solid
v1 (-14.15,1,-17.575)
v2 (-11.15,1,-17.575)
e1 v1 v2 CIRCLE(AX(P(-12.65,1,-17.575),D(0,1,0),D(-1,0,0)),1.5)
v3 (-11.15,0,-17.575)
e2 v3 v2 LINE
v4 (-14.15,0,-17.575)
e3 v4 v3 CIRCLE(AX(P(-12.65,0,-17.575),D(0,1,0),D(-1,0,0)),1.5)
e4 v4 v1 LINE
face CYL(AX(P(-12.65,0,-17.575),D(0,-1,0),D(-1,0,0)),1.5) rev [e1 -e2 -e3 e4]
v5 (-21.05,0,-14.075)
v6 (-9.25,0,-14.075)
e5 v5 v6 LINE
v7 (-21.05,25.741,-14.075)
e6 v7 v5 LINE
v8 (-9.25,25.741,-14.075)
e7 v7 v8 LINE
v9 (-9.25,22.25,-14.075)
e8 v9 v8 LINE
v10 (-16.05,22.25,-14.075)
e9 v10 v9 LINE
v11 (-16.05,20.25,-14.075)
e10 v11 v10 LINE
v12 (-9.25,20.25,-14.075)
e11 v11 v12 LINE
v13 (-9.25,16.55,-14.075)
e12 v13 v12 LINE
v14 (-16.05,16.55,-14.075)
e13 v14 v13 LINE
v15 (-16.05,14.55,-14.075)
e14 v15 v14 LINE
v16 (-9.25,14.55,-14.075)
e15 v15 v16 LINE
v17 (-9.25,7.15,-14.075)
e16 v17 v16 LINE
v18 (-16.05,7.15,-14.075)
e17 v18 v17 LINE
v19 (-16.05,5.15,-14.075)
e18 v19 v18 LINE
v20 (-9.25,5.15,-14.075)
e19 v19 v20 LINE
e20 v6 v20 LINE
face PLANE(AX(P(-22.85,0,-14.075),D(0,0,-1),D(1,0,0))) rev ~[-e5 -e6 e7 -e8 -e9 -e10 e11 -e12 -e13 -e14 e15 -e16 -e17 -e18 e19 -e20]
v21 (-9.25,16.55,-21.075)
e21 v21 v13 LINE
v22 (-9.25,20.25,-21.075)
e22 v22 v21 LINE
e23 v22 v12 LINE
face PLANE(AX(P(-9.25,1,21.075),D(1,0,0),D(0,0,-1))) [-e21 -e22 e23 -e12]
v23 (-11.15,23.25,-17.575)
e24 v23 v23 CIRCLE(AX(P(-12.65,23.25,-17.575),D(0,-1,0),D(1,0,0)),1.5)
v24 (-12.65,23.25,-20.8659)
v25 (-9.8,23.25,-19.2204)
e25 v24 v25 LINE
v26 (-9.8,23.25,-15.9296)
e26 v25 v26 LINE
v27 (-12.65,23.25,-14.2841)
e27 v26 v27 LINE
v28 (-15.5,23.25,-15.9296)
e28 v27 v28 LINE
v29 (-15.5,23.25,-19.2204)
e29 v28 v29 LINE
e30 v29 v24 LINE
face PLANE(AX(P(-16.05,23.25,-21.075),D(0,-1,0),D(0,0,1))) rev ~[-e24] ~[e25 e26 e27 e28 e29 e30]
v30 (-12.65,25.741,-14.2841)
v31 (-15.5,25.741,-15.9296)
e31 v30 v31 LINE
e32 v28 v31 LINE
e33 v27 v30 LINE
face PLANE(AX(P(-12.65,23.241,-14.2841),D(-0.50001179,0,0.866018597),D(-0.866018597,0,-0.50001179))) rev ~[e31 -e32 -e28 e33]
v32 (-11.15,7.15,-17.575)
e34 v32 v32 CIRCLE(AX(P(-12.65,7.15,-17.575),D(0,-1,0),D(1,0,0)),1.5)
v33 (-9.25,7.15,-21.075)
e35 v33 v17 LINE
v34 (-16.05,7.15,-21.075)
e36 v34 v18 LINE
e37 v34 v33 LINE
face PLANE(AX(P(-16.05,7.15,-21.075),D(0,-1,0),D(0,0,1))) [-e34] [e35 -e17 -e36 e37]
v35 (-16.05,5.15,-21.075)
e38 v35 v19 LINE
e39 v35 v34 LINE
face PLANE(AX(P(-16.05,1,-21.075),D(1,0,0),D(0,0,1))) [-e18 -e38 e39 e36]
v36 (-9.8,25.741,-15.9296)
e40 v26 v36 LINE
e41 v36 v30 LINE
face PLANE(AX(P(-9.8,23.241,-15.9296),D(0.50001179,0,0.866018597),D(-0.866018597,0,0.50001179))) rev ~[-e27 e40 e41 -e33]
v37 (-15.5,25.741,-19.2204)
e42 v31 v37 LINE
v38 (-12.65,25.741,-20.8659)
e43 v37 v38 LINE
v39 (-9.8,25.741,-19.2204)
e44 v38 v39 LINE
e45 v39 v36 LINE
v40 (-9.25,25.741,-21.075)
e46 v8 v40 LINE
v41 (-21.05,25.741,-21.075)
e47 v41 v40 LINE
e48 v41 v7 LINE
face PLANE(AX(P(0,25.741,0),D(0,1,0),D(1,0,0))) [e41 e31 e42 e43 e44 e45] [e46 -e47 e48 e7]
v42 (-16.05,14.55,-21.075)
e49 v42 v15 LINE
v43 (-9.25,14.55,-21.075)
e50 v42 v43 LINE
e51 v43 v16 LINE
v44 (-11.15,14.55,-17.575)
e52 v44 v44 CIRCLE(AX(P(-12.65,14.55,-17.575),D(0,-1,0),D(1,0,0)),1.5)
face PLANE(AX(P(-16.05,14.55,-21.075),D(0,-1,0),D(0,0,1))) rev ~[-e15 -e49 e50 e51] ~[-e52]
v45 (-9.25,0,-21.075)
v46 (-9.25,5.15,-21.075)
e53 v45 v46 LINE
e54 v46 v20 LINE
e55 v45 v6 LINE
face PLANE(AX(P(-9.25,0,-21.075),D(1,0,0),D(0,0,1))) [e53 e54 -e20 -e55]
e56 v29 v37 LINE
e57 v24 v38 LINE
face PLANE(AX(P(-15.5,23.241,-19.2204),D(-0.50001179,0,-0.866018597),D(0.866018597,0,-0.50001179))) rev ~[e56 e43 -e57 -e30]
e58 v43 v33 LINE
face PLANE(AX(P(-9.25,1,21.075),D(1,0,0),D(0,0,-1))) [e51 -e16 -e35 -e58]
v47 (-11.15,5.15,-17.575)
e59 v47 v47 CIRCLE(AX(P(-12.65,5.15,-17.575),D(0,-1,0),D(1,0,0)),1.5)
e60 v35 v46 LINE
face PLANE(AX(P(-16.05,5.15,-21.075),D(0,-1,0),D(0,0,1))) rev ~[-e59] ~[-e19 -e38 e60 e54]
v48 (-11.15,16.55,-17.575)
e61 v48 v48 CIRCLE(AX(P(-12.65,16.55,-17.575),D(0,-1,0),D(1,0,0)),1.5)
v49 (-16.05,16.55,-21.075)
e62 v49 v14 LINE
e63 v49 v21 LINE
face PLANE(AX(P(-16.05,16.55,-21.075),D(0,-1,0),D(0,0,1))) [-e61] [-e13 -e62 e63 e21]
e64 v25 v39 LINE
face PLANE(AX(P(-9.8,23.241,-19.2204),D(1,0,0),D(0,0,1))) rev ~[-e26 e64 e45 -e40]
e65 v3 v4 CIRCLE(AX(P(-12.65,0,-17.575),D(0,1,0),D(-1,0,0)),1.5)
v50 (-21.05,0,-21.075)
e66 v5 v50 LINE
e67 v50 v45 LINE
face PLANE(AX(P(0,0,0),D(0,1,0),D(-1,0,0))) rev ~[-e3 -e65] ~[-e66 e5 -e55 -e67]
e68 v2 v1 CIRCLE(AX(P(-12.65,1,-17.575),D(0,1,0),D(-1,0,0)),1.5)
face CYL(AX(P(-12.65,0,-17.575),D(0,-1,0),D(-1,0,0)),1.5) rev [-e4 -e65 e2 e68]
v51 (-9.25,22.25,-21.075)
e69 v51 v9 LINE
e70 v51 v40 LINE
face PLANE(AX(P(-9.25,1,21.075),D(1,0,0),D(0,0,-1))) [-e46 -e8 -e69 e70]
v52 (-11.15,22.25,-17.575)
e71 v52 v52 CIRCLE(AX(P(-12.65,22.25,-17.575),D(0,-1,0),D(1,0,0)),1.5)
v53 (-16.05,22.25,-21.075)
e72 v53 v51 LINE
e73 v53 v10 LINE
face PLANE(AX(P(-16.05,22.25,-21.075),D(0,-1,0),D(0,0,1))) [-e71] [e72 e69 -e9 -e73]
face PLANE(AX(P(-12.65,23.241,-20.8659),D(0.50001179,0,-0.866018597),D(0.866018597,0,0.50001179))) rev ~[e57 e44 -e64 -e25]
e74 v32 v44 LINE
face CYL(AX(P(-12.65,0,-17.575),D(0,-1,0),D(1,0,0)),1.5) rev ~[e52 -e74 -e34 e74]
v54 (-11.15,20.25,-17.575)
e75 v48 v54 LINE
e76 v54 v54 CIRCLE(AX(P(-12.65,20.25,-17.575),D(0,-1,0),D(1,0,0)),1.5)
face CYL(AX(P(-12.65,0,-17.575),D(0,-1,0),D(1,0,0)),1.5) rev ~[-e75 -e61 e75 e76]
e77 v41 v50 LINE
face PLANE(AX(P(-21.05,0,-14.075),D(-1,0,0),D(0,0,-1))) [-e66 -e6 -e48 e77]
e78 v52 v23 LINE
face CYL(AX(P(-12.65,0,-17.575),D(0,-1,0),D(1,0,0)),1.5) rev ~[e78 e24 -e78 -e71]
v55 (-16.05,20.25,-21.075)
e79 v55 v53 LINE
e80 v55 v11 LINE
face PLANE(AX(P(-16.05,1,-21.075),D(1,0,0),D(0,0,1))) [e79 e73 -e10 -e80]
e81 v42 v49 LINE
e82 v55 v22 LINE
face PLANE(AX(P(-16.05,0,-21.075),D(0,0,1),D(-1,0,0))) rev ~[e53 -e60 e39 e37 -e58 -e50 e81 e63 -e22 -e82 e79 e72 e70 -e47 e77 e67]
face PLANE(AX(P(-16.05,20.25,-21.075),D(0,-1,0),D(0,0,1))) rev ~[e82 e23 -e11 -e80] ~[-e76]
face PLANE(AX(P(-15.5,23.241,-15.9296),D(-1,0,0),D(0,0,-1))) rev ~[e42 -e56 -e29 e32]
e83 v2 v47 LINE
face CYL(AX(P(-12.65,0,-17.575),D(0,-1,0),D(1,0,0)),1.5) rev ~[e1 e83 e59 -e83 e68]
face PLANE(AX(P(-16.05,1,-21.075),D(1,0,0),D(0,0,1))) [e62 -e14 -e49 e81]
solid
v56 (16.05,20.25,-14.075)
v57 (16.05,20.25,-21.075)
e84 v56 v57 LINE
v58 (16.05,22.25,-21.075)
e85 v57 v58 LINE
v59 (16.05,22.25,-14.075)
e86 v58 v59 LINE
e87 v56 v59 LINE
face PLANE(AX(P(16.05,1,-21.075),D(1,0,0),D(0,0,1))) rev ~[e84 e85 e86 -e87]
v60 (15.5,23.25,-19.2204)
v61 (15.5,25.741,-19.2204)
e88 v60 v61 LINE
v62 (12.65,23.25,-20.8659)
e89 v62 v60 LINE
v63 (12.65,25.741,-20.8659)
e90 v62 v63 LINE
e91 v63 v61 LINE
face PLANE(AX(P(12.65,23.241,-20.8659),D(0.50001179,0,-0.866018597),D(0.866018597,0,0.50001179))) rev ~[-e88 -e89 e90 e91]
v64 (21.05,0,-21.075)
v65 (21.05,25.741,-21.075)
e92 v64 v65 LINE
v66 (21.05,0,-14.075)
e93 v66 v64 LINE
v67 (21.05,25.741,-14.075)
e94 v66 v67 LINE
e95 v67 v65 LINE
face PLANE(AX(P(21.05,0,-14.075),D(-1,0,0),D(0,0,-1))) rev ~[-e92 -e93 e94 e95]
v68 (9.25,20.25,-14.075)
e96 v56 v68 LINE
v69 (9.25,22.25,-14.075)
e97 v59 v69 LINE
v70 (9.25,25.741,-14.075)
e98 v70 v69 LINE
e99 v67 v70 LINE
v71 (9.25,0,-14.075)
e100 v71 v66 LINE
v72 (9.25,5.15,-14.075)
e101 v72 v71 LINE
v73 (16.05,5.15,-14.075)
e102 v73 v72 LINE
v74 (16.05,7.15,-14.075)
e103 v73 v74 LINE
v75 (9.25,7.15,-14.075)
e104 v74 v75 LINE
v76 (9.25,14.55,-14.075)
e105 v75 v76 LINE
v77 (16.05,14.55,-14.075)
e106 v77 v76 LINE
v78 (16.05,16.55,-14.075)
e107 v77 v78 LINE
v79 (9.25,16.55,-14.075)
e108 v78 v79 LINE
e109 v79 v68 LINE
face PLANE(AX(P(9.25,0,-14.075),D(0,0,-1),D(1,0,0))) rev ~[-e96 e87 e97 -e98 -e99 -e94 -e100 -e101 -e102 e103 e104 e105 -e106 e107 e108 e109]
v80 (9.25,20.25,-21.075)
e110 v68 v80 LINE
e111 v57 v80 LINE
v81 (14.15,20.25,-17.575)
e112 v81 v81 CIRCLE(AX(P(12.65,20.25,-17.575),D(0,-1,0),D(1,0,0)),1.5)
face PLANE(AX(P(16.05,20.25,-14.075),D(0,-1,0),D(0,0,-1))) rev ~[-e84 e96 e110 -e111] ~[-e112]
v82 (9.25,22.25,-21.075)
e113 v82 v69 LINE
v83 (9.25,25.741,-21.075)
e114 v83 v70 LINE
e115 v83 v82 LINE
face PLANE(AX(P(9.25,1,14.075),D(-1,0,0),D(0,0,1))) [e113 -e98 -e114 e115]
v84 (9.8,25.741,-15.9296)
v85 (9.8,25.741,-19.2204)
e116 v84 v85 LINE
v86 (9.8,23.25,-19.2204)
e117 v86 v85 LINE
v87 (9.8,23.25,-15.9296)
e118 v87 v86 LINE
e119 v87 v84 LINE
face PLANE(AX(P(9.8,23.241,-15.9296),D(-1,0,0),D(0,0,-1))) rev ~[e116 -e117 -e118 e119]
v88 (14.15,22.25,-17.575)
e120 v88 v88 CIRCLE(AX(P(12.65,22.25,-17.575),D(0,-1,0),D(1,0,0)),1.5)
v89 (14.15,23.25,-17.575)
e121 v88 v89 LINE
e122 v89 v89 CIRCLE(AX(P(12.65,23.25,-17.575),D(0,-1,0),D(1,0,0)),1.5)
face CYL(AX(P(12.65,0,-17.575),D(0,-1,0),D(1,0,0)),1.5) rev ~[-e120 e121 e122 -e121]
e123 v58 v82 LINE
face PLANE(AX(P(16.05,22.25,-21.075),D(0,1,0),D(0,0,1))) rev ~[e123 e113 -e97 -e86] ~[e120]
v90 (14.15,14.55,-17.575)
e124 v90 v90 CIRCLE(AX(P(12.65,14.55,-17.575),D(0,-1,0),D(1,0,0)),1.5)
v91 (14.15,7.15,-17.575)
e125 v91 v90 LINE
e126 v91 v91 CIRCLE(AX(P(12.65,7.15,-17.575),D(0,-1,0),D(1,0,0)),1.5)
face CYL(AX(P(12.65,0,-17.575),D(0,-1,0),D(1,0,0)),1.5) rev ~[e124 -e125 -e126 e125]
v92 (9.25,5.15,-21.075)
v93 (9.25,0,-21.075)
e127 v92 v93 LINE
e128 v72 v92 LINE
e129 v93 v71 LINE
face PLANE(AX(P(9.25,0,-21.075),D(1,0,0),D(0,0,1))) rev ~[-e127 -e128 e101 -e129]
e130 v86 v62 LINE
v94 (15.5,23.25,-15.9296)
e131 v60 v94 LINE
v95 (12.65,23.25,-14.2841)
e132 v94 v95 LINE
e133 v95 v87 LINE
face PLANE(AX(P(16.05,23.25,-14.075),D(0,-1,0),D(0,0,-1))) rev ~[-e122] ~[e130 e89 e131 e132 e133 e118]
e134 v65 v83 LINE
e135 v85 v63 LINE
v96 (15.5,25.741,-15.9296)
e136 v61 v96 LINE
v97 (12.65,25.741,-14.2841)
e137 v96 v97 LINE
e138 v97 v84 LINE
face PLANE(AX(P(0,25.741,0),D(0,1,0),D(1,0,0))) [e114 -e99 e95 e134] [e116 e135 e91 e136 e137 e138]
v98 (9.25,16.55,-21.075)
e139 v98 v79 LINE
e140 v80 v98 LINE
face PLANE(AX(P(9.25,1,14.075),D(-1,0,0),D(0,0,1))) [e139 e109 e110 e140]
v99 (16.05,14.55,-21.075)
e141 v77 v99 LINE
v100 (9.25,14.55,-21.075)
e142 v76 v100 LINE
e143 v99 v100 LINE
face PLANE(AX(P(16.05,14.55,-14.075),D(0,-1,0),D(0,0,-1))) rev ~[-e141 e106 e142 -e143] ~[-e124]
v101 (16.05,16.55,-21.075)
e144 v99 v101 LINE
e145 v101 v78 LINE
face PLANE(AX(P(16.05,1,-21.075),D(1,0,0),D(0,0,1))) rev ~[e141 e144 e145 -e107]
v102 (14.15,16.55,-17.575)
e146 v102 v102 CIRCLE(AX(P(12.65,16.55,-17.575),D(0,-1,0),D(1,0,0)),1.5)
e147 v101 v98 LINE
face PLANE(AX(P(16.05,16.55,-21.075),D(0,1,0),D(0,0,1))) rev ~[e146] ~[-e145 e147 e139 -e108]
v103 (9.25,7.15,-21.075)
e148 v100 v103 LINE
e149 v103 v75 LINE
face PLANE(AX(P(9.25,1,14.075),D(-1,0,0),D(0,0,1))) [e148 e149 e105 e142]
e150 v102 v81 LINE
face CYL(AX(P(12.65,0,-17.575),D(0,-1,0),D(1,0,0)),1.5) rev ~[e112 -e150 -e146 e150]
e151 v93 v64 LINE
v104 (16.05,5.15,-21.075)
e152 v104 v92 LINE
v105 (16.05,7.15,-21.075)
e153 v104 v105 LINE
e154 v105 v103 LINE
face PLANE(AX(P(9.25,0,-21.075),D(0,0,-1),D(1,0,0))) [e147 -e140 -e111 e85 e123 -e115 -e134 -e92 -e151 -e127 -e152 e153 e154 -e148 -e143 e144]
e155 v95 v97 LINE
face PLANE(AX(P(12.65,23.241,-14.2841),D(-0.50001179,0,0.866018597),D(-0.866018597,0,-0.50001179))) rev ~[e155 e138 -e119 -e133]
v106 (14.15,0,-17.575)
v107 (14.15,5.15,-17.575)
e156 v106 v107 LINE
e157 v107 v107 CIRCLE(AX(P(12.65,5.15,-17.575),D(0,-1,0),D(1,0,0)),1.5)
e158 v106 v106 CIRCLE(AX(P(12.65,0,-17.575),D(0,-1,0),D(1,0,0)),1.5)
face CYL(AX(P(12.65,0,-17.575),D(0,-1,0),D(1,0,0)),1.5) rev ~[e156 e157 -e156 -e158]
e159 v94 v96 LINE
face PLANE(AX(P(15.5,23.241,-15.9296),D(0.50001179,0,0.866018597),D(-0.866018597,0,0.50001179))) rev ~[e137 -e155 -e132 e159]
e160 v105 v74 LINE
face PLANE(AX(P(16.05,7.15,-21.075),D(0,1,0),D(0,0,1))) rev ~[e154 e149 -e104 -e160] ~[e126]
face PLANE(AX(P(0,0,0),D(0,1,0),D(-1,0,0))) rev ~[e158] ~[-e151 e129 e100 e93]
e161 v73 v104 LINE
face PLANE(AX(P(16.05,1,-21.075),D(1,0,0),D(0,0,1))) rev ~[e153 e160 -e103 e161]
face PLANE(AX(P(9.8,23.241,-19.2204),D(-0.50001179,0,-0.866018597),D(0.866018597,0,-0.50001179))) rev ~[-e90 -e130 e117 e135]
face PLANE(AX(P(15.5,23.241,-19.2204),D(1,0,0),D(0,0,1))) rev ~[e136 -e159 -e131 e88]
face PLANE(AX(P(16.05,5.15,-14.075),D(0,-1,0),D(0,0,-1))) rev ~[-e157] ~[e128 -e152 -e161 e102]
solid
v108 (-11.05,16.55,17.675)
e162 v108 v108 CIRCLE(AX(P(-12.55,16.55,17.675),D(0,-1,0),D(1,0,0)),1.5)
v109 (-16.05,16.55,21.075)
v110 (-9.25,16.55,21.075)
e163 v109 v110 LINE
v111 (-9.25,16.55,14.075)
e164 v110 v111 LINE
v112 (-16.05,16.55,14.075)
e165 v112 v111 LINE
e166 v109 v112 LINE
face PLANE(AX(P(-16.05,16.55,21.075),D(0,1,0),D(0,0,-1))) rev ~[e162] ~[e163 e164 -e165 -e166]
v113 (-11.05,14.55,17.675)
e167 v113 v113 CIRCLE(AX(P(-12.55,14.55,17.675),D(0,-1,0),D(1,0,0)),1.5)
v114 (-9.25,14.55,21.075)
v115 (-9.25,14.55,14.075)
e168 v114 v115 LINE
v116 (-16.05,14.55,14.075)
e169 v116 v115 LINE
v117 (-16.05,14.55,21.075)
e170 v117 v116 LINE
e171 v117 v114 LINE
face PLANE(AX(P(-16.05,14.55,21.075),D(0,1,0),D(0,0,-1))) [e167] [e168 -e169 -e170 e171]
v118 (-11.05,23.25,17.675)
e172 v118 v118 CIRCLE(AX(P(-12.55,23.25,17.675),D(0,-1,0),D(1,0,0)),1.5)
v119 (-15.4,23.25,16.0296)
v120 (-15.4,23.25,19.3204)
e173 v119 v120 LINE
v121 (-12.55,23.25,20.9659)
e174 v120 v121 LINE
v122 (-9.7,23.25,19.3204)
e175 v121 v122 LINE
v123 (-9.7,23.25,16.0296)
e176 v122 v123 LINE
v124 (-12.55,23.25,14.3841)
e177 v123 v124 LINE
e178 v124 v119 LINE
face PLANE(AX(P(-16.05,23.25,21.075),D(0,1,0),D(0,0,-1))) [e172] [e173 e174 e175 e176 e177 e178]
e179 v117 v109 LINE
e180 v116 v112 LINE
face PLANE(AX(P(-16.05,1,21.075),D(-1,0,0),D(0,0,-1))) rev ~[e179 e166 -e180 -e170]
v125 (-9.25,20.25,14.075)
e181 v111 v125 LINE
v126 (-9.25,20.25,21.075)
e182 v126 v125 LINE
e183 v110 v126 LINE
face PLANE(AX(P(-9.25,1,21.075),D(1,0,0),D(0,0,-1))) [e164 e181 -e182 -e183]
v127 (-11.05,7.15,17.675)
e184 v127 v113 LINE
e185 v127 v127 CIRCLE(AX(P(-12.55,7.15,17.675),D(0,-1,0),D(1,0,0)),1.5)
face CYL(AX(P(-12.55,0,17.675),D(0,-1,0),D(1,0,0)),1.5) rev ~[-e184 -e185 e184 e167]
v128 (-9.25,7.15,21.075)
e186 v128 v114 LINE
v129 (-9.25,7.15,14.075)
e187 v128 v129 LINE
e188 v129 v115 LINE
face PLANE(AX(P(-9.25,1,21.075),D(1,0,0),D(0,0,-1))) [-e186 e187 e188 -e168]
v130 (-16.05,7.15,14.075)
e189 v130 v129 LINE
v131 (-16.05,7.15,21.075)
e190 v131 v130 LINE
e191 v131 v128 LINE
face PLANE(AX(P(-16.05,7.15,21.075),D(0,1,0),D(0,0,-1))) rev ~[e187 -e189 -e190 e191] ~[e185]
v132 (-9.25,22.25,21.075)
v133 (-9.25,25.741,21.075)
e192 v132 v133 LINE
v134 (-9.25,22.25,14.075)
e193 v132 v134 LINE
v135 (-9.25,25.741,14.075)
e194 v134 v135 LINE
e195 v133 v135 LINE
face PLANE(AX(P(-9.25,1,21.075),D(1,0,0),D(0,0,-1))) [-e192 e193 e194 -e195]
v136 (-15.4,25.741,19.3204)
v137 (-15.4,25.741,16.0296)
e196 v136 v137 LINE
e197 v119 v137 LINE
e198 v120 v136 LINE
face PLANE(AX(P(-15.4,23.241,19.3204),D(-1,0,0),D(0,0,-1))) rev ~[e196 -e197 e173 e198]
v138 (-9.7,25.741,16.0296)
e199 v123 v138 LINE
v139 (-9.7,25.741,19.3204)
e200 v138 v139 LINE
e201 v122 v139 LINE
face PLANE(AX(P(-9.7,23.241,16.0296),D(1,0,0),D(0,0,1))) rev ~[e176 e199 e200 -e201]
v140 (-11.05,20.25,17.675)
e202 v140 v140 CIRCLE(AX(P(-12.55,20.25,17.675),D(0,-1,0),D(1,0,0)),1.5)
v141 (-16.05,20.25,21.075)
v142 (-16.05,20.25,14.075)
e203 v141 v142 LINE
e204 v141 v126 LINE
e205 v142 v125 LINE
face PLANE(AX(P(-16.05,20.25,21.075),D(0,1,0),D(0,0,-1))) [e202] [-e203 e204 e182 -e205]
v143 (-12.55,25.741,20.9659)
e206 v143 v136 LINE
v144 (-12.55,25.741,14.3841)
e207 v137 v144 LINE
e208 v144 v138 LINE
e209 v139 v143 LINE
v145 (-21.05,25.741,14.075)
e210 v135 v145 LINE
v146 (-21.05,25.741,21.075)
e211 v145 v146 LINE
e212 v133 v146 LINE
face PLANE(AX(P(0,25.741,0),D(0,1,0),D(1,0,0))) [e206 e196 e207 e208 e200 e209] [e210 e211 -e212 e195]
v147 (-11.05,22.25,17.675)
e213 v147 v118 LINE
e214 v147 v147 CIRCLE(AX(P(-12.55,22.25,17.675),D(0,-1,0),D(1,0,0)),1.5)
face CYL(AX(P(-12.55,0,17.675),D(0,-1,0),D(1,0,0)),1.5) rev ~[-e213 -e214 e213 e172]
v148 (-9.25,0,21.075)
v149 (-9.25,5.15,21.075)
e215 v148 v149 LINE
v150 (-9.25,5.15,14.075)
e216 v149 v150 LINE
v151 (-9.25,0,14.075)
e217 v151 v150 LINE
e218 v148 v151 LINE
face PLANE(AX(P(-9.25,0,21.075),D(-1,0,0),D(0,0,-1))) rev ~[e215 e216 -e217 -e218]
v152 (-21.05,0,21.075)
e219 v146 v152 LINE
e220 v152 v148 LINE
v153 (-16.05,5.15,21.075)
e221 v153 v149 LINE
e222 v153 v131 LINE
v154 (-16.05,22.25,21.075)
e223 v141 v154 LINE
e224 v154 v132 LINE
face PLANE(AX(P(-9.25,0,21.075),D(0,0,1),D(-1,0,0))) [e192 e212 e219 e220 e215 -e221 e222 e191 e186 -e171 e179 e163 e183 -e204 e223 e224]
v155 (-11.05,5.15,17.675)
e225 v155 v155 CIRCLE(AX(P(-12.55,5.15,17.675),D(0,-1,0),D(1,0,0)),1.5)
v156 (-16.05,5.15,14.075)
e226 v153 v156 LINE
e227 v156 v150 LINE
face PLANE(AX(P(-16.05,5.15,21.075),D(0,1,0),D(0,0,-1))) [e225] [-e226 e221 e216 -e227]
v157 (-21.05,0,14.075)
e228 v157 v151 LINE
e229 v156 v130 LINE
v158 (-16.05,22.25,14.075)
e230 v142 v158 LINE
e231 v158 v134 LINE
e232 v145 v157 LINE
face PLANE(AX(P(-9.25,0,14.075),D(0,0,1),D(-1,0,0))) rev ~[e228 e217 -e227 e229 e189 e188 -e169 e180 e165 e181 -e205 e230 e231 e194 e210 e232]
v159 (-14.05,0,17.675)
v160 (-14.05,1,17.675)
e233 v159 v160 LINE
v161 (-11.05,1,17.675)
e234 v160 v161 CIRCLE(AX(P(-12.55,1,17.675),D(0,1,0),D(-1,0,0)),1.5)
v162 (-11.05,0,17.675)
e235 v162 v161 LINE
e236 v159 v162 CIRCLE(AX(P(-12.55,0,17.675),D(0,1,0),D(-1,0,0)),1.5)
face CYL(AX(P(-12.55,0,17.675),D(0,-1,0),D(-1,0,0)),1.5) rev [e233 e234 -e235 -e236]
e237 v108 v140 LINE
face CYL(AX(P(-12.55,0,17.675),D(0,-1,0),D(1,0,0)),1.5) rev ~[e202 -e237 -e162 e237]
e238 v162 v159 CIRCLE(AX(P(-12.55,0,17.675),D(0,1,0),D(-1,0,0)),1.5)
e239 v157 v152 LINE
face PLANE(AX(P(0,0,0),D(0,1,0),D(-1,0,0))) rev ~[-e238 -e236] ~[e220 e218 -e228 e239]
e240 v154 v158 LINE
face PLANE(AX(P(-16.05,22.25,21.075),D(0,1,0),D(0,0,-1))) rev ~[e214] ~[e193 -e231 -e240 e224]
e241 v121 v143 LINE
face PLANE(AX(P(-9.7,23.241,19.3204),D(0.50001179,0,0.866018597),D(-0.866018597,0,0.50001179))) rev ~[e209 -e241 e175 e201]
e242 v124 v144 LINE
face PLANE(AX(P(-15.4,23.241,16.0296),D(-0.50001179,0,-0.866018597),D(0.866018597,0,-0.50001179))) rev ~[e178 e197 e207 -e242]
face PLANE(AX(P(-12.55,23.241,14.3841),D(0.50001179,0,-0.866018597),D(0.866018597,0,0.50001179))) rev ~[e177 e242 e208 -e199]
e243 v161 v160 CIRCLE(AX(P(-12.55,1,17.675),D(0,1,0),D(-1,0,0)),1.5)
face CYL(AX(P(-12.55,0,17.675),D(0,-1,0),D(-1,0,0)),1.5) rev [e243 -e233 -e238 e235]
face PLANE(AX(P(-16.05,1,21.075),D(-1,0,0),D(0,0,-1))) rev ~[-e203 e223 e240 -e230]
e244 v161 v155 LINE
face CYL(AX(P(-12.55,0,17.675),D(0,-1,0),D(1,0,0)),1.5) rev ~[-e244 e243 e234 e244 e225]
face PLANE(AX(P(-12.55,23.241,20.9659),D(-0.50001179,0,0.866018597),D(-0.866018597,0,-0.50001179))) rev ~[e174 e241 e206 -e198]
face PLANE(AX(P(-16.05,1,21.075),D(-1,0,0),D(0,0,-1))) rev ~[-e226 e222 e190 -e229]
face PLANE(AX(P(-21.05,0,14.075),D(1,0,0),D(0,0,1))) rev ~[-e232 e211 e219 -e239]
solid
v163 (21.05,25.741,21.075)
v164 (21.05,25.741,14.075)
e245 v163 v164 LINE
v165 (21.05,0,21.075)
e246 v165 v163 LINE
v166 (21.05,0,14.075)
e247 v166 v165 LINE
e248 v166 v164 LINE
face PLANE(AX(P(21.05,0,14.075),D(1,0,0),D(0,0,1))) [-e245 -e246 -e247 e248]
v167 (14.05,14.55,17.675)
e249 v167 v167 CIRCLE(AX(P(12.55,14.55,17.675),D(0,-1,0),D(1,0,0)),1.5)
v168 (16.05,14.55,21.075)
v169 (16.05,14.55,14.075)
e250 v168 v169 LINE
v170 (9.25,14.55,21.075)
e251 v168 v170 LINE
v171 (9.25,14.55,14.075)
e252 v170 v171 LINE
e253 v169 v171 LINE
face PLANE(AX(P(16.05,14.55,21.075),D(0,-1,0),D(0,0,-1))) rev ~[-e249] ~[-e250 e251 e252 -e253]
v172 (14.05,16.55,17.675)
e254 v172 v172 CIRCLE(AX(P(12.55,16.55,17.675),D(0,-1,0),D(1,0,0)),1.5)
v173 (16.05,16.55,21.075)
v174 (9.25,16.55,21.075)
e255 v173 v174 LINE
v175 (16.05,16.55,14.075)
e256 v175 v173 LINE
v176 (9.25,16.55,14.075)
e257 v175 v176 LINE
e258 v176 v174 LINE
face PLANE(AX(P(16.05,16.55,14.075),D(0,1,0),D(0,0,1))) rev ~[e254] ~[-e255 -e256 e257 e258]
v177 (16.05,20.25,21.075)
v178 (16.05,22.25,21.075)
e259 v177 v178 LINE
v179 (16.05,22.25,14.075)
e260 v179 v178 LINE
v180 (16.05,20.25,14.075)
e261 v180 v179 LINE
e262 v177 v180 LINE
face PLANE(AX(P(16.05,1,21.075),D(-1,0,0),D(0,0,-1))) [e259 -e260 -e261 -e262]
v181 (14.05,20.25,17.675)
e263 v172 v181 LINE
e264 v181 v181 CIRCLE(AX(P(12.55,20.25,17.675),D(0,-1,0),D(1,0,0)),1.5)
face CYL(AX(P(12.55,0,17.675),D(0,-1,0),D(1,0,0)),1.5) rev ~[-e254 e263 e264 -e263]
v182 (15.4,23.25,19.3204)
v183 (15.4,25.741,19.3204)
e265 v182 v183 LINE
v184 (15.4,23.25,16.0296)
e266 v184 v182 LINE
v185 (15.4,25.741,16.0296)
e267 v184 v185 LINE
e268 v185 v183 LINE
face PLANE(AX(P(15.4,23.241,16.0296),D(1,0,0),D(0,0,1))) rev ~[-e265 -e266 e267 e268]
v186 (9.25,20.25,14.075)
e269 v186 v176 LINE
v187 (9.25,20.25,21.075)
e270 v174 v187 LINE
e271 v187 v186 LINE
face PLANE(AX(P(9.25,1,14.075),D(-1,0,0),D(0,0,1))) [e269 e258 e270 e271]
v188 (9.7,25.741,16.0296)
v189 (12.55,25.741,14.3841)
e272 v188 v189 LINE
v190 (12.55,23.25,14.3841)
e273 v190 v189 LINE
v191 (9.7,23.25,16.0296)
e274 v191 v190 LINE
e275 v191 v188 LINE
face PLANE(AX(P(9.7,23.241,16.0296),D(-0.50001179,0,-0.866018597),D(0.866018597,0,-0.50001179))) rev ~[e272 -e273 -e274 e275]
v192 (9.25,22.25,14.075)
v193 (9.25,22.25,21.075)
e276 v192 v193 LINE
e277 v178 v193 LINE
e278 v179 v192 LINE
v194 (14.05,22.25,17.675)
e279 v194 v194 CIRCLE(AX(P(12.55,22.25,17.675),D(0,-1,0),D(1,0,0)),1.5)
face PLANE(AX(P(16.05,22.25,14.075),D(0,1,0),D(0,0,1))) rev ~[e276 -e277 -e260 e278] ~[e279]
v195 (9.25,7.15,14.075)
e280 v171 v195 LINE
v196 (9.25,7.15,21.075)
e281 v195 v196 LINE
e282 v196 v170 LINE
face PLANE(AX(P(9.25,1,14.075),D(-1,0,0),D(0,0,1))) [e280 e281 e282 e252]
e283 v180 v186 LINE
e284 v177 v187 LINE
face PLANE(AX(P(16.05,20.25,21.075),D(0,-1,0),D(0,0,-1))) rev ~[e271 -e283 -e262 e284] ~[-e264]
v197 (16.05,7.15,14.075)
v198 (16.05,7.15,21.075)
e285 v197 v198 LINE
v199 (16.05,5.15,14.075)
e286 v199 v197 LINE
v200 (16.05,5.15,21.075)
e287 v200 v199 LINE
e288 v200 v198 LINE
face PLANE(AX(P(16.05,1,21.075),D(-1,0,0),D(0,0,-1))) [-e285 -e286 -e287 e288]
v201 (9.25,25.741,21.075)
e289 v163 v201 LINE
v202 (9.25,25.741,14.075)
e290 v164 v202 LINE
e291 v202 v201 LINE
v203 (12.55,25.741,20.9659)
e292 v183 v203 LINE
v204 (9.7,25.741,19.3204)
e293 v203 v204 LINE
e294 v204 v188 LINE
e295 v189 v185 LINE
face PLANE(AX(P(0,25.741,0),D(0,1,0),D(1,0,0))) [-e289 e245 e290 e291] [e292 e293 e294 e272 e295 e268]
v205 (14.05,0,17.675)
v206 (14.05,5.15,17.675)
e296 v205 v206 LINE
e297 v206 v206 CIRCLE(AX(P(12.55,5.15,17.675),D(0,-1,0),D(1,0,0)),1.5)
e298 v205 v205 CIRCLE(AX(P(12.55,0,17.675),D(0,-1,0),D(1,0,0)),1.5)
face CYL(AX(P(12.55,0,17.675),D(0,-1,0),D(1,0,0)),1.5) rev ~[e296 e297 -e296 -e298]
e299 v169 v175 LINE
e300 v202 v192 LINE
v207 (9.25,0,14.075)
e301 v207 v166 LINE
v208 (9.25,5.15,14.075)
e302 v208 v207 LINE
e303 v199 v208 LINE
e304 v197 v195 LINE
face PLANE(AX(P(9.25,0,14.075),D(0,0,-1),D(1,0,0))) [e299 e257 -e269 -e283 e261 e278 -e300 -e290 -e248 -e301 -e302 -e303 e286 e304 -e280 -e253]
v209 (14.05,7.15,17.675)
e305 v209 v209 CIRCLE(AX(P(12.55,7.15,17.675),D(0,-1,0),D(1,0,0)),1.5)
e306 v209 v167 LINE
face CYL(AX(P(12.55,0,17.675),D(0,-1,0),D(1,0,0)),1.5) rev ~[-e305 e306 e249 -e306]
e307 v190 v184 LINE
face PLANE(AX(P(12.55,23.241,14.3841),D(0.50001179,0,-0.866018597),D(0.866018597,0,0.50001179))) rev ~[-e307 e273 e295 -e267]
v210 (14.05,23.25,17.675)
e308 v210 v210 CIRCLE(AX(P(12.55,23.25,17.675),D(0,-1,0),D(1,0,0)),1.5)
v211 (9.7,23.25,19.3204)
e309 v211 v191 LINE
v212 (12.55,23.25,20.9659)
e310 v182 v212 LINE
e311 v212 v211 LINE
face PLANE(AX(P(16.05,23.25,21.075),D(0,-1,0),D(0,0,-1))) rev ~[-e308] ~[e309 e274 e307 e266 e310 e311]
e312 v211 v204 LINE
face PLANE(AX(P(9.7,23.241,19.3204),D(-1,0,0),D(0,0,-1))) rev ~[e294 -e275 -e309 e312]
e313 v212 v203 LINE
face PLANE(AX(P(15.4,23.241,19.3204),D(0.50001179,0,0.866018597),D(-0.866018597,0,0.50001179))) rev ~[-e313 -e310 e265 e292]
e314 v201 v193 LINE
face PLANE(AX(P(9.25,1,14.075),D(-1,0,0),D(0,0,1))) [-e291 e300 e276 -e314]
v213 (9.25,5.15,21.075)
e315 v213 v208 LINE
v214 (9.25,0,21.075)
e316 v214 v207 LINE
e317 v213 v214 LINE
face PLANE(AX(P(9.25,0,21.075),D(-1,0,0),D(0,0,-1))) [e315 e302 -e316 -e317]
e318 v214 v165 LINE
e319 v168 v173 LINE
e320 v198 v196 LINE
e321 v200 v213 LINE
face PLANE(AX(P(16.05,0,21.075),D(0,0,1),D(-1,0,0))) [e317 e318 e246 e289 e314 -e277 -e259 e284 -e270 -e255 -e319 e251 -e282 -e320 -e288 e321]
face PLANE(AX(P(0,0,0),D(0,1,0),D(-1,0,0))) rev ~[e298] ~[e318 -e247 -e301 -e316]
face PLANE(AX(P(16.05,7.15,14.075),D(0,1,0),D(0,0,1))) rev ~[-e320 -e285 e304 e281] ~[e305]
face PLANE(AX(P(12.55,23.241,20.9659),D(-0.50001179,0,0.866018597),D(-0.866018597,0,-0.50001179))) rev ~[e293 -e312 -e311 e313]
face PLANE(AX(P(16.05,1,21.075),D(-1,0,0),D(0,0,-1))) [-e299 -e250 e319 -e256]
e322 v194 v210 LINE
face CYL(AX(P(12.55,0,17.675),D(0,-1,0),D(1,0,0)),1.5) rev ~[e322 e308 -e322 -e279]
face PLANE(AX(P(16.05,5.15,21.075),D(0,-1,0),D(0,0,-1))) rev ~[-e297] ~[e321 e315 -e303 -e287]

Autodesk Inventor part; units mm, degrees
ref_plane "YZ Plane" through (0, 0, 0) normal (1, 0, 0) x (0, 1, 0)
ref_plane "XZ Plane" through (0, 0, 0) normal (0, 1, 0) x (-1, 0, 0)
ref_plane "XY Plane" through (0, 0, 0) normal (0, 0, 1) x (1, 0, 0)
sketch "Sketch8" plane through (0, 0, 0) normal (0, 1, 0) x (-1, 0, 0)
  line L0 (-16.05, 21.075) -> (16.05, 21.075)
  line L1 (16.05, 21.075) -> (16.05, -21.075)
  line L2 (16.05, -21.075) -> (-16.05, -21.075)
  line L3 (-16.05, -21.075) -> (-16.05, 21.075)
  line L4 (-16.05, 21.075) -> (16.05, -21.075) construction
  line L5 (16.05, 21.075) -> (-16.05, -21.075) construction
  circle A0 centre (12.65, -17.575) radius 1.5
  line L6 (12.65, -19.075) -> (12.65, -21.075) construction
  line L7 (14.15, -17.575) -> (16.05, -17.575) construction
  line L8 (12.65, -17.575) -> (12.65, -19.075) construction
  line L9 (12.65, -17.575) -> (14.15, -17.575) construction
  line L10 (0, -21.075) -> (0, 21.075) construction
  line L11 (16.05, 0) -> (-16.05, 0) construction
  line L12 (9.25, -14.075) -> (16.05, -14.075)
  line L13 (16.05, -14.075) -> (16.05, -21.075)
  line L14 (16.05, -21.075) -> (9.25, -21.075)
  line L15 (9.25, -21.075) -> (9.25, -14.075)
  line L16 (9.25, -14.075) -> (16.05, -21.075) construction
  line L17 (16.05, -14.075) -> (9.25, -21.075) construction
  circle A1 centre (-12.55, -17.675) radius 1.5
  line L18 (-9.25, -14.075) -> (-16.05, -14.075)
  line L19 (-9.25, -21.075) -> (-9.25, -14.075)
  circle A2 centre (12.55, 17.675) radius 1.5
  line L20 (9.25, 14.075) -> (16.05, 14.075)
  line L21 (9.25, 21.075) -> (9.25, 14.075)
  line L22 (-9.25, 21.075) -> (-9.25, 14.075)
  circle A3 centre (-12.55, 17.475) radius 1.5
  line L23 (-9.25, 14.075) -> (-16.05, 14.075)
  line L24 (16.05, -21.075) -> (22.85, -21.075)
  line L25 (22.85, -21.075) -> (22.85, -14.075)
  line L26 (22.85, -14.075) -> (16.05, -14.075)
  line L27 (16.05, -14.075) -> (16.05, -21.075)
  line L28 (-16.05, -21.075) -> (-22.85, -21.075)
  line L29 (-22.85, -21.075) -> (-22.85, -14.075)
  line L30 (-22.85, -14.075) -> (-16.05, -14.075)
  line L31 (16.05, 21.075) -> (22.85, 21.075)
  line L32 (22.85, 21.075) -> (22.85, 14.075)
  line L33 (22.85, 14.075) -> (16.05, 14.075)
  line L34 (-16.05, 21.075) -> (-22.85, 21.075)
  line L35 (-22.85, 21.075) -> (-22.85, 14.075)
  line L36 (-22.85, 14.075) -> (-16.05, 14.075)
  line L37 (-12.55, -19.175) -> (-12.55, -21.075) construction
  line L38 (-14.05, -17.675) -> (-16.05, -17.675) construction
  line L39 (-14.05, -17.675) -> (-12.55, -17.675) construction
  line L40 (-12.55, -17.675) -> (-12.55, -19.175) construction
  line L41 (-12.55, 17.475) -> (-12.55, 18.975) construction
  line L42 (-12.55, 21.075) -> (-12.55, 18.975) construction
  line L43 (-12.55, 17.475) -> (-14.05, 17.475) construction
  line L44 (-16.05, 17.475) -> (-14.05, 17.475) construction
  line L45 (12.55, 17.675) -> (12.55, 19.175) construction
  line L46 (12.55, 19.175) -> (12.55, 21.075) construction
  line L47 (12.55, 17.675) -> (14.05, 17.675) construction
  line L48 (16.05, 17.675) -> (14.05, 17.675) construction
  point P0 (0, 0)
  dimension "d65" = 42.15
  dimension "d66" = 32.1
  dimension "d67" = 3
  dimension "d69" = 2
  dimension "d70" = 1.9
  dimension "d113" = 3
  dimension "d115" = 1.9
  dimension "d116" = 2
  dimension "d117" = 2
  dimension "d118" = 2.1
  dimension "d119" = 3
  dimension "d120" = 1.9
  dimension "d121" = 2
  dimension "d122" = 3
extrude "Extrusion4" add sketch "Sketch8" along normal blind 1 contours L0 L22 L23 L3 | L3 L36 L35 L34 | L0 L1 L20 L21 | L18 L19 L2 L3 | L3 L28 L29 L30 | L31 L32 L33 L1 | L26 L25 L24 L1 | L1 L2 L15 L12
sketch "Sketch9" plane through (0, 1, 0) normal (0, 1, 0) x (1, 0, 0)
  line L0 (-22.85, 21.075) -> (-22.85, 14.075) projected
  line L1 (-22.85, 21.075) -> (-16.05, 21.075)
  line L2 (-16.05, 21.075) -> (-16.05, 14.075)
  line L3 (-16.05, 14.075) -> (-22.85, 14.075)
  line L4 (-22.85, 14.075) -> (-22.85, 21.075)
  line L5 (-9.25, 21.075) -> (-22.85, 21.075) projected
  line L6 (-16.05, 21.075) -> (-16.05, 14.075) construction
  line L7 (-22.85, 14.075) -> (-9.25, 14.075) projected
  line L8 (0, 20.6342) -> (0, -21.4805) construction
  line L9 (-22.8069, 0) -> (21.3685, 0) construction
  line L10 (22.85, 21.075) -> (22.85, 14.075)
  line L11 (22.85, 21.075) -> (16.05, 21.075)
  line L12 (16.05, 21.075) -> (16.05, 14.075)
  line L13 (16.05, 14.075) -> (22.85, 14.075)
  line L14 (22.85, 14.075) -> (22.85, 21.075)
  line L15 (16.05, 21.075) -> (22.85, 21.075)
  line L16 (22.85, 14.075) -> (16.05, 14.075)
  line L17 (-22.85, -21.075) -> (-22.85, -14.075)
  line L18 (-22.85, -21.075) -> (-16.05, -21.075)
  line L19 (-16.05, -21.075) -> (-16.05, -14.075)
  line L20 (-16.05, -14.075) -> (-22.85, -14.075)
  line L21 (-22.85, -14.075) -> (-22.85, -21.075)
  line L22 (-16.05, -21.075) -> (-22.85, -21.075)
  line L23 (-16.05, -21.075) -> (-16.05, -14.075) construction
  line L24 (-22.85, -14.075) -> (-16.05, -14.075)
  line L25 (0, -20.6342) -> (0, 21.4805) construction
  line L26 (22.85, -21.075) -> (22.85, -14.075)
  line L27 (22.85, -21.075) -> (16.05, -21.075)
  line L28 (16.05, -14.075) -> (22.85, -14.075)
  line L29 (22.85, -14.075) -> (22.85, -21.075)
  line L30 (16.05, -21.075) -> (22.85, -21.075)
  line L31 (22.85, -14.075) -> (16.05, -14.075)
  line L32 (16.05, -21.075) -> (16.05, -14.075)
  point P0 (0, 0)
  point P1 (9.25, 21.075)
  point P2 (9.25, 14.075)
  point P3 (-9.25, -21.075)
  point P4 (-9.25, -14.075)
  point P5 (9.25, -21.075)
  point P6 (9.25, -14.075)
  dimension "d73" = 0
  dimension "d74" = 0
extrude "Extrusion5" add sketch "Sketch9" along normal blind 22.241
sketch "Sketch11" plane through (-16.05, 1, 21.075) normal (1, 0, 0) x (0, 0, -1)
  line L0 (21.075, -1) -> (21.075, 11.5) construction
  line L1 (0, 0) -> (0, 22.241) projected
  line L2 (7, 0) -> (7, 22.241) projected
  line L3 (0, 4.15) -> (7, 4.15)
  line L4 (0, -1) -> (7, -1) projected
  line L5 (0, 6.15) -> (7, 6.15)
  line L6 (7, -1) -> (7, 22.241) projected
  line L7 (0, 3.15) -> (7, 3.15)
  line L8 (0, 7.15) -> (7, 7.15)
  line L9 (0, 12.55) -> (7, 12.55)
  line L10 (0, 13.55) -> (7, 13.55)
  line L11 (0, 15.55) -> (7, 15.55)
  line L12 (0, 0) -> (0, 22.3006)
  line L13 (7, 0) -> (7, 22.3006)
  line L14 (0, 16.55) -> (7, 16.55)
  line L15 (0, 19.25) -> (7, 19.25)
  line L16 (0, 18.25) -> (7, 18.25)
  line L17 (0, 21.25) -> (7, 21.25)
  line L18 (0, 22.25) -> (7, 22.25)
  line L19 (42.15, 0) -> (42.15, 22.241)
  line L20 (35.15, 0) -> (35.15, 22.241)
  line L21 (42.15, 4.15) -> (35.15, 4.15)
  line L22 (42.15, 6.15) -> (35.15, 6.15)
  line L23 (35.15, -1) -> (35.15, 22.241)
  line L24 (42.15, 3.15) -> (35.15, 3.15)
  line L25 (42.15, 7.15) -> (35.15, 7.15)
  line L26 (42.15, 12.55) -> (35.15, 12.55)
  line L27 (42.15, 13.55) -> (35.15, 13.55)
  line L28 (42.15, 15.55) -> (35.15, 15.55)
  line L29 (42.15, 0) -> (42.15, 22.3006)
  line L30 (35.15, 0) -> (35.15, 22.3006)
  line L31 (42.15, 16.55) -> (35.15, 16.55)
  line L32 (42.15, 19.25) -> (35.15, 19.25)
  line L33 (42.15, 18.25) -> (35.15, 18.25)
  line L34 (42.15, 21.25) -> (35.15, 21.25)
  line L35 (42.15, 22.25) -> (35.15, 22.25)
  line L36 (0, 0) -> (7, 0)
  line L37 (35.15, 0) -> (42.15, 0)
  point P0 (7, 15.55)
  point P1 (7, 22.241)
  point P2 (7, 13.55)
  point P3 (7, 7.15)
  point P4 (7, 6.15)
  point P5 (7, 3.15)
  point P6 (42.15, 7.15)
  point P7 (35.15, 7.15)
  point P8 (35.15, 6.15)
  point P9 (0, 15.55)
  point P10 (7, 15.55)
  point P11 (7, 18.25)
  point P12 (0, 18.25)
  point P13 (7, 16.55)
  dimension "d97" = 5.15
  dimension "d98" = 1
  dimension "d99" = 2
  dimension "d100" = 1
  dimension "d101" = 8.4
  dimension "d102" = 1
  dimension "d103" = 2
  dimension "d104" = 1
  dimension "d105" = 2.7
  dimension "d106" = 1
  dimension "d107" = 1
  dimension "d108" = 2
extrude "Extrusion6" add sketch "Sketch11" along normal up to surface (6.8 mm away) contours L1 L7 L2 L36 | L1 L3 L2 L7 | L1 L8 L2 L5 | L1 L9 L2 L8 | L1 L10 L2 L9 | L1 L14 L2 L11 | L1 L16 L2 L14 | L1 L15 L2 L16 | L1 L12 L18 L13 L2 L17 | L37 L20 L24 L19 | L24 L20 L21 L19 | L22 L20 L25 L19 | L25 L20 L26 L19 | L26 L20 L27 L19 | L28 L20 L31 L19 | L31 L20 L33 L19 | L33 L20 L32 L19 | L34 L20 L30 L35 L29 L19
sketch "Sketch12" plane through (16.05, 1, 14.075) normal (-1, 0, 0) x (0, 0, 1)
  line L0 (7, -1) -> (0, -1) projected
  line L1 (0, -1) -> (0, 4.15) projected
  line L2 (7, 4.15) -> (0, 4.15) projected
  line L3 (7, -1) -> (7, 4.15) projected
  line L4 (7, 13.55) -> (0, 13.55) projected
  line L5 (7, 6.15) -> (7, 13.55) projected
  line L6 (0, 6.15) -> (7, 6.15) projected
  line L7 (0, 13.55) -> (0, 6.15) projected
  line L8 (0, 15.55) -> (7, 15.55) projected
  line L9 (0, 19.25) -> (0, 15.55) projected
  line L10 (7, 19.25) -> (0, 19.25) projected
  line L11 (7, 15.55) -> (7, 19.25) projected
  line L12 (7, 22.25) -> (0, 22.25) projected
  line L13 (7, 21.25) -> (7, 22.25) projected
  line L14 (0, 21.25) -> (7, 21.25) projected
  line L15 (0, 22.25) -> (0, 21.25) projected
  line L16 (-28.15, 21.25) -> (-28.15, 22.25) projected
  line L17 (-35.15, 21.25) -> (-28.15, 21.25) projected
  line L18 (-35.15, 22.25) -> (-35.15, 21.25) projected
  line L19 (-28.15, 22.25) -> (-35.15, 22.25) projected
  line L20 (-35.15, 15.55) -> (-28.15, 15.55) projected
  line L21 (-28.15, 15.55) -> (-28.15, 19.25) projected
  line L22 (-35.15, 15.55) -> (-28.15, 15.55) projected
  line L23 (-35.15, 19.25) -> (-35.15, 15.55) projected
  line L24 (-28.15, 19.25) -> (-35.15, 19.25) projected
  line L25 (-35.15, 6.15) -> (-28.15, 6.15) projected
  line L26 (-35.15, 13.55) -> (-35.15, 6.15) projected
  line L27 (-28.15, 13.55) -> (-35.15, 13.55) projected
  line L28 (-28.15, 6.15) -> (-28.15, 13.55) projected
  line L29 (-28.15, -1) -> (-35.15, -1) projected
  line L30 (-35.15, -1) -> (-35.15, 4.15) projected
  line L31 (-28.15, 4.15) -> (-35.15, 4.15) projected
  line L32 (-28.15, -1) -> (-28.15, 4.15) projected
extrude "Extrusion7" add sketch "Sketch12" along normal up to surface (6.8 mm away)
sketch "Sketch13" plane through (0, 0, 0) normal (0, -1, 0) x (1, 0, 0)
  line L0 (-22.85, -14.075) -> (-16.05, -14.075) projected
  line L1 (-22.85, -14.075) -> (-21.05, -14.075)
  line L2 (-21.05, -14.075) -> (-21.05, -21.075)
  line L3 (-21.05, -21.075) -> (-22.85, -21.075)
  line L4 (-22.85, -21.075) -> (-22.85, -14.075)
  line L5 (0, 0) -> (0, -21.075) construction
  line L6 (0, 0) -> (23.0249, 0) construction
  line L7 (22.85, -14.075) -> (9.25, -14.075)
  line L8 (22.85, -21.075) -> (9.25, -21.075)
  line L9 (22.85, -14.075) -> (21.05, -14.075)
  line L10 (21.05, -14.075) -> (21.05, -21.075)
  line L11 (21.05, -21.075) -> (22.85, -21.075)
  line L12 (22.85, -21.075) -> (22.85, -14.075)
  line L13 (-22.85, 14.075) -> (-9.25, 14.075)
  line L14 (-22.85, 21.075) -> (-9.25, 21.075)
  line L15 (-22.85, 14.075) -> (-21.05, 14.075)
  line L16 (-21.05, 14.075) -> (-21.05, 21.075)
  line L17 (-21.05, 21.075) -> (-22.85, 21.075)
  line L18 (-22.85, 21.075) -> (-22.85, 14.075)
  line L19 (-16.05, 21.075) -> (-16.05, 14.075)
  line L20 (0, 0) -> (0, 21.075) construction
  line L21 (22.85, 14.075) -> (9.25, 14.075)
  line L22 (22.85, 21.075) -> (9.25, 21.075)
  line L23 (22.85, 14.075) -> (21.05, 14.075)
  line L24 (21.05, 14.075) -> (21.05, 21.075)
  line L25 (21.05, 21.075) -> (22.85, 21.075)
  line L26 (22.85, 21.075) -> (22.85, 14.075)
  circle A0 centre (-12.65, -17.575) radius 1.5
  circle A1 centre (-12.65, -17.575) radius 1.5 projected
  line L27 (-16.05, -14.075) -> (-9.25, -14.075) projected
  line L28 (-16.05, -21.075) -> (-16.05, -14.075) projected
  line L29 (-16.05, -14.075) -> (-16.05, -21.075)
  circle A2 centre (-12.55, 17.675) radius 1.5
  circle A3 centre (-12.55, 17.675) radius 1.5 projected
  circle A4 centre (12.65, -17.575) radius 1.5
  circle A5 centre (12.55, 17.675) radius 1.5
  line L30 (-22.85, -14.075) -> (-9.25, -14.075) projected
  line L31 (-9.25, -21.075) -> (-22.85, -21.075) projected
  point P0 (-21.05, 14.075)
  point P1 (21.05, 14.075)
  point P2 (21.05, -14.075)
  dimension "d109" = 5
  dimension "d111" = 3
extrude "Extrusion8" cut sketch "Sketch13" against normal through all contours L0 L2 L3 L4 | L12 L8 L10 L7 | L18 L14 L16 L13 | L21 L24 L22 L26 | A0 | A2 | A4 | A5
sketch "Sketch14" plane through (0, 23.241, 0) normal (0, 1, 0) x (1, 0, 0)
  circle A0 centre (12.55, -17.675) radius 1.5 projected
  line L0 (9.7, -16.0296) -> (12.55, -14.3841)
  line L1 (12.55, -14.3841) -> (15.4, -16.0296)
  line L2 (15.4, -16.0296) -> (15.4, -19.3204)
  line L3 (15.4, -19.3204) -> (12.55, -20.9659)
  line L4 (12.55, -20.9659) -> (9.7, -19.3204)
  line L5 (9.7, -19.3204) -> (9.7, -16.0296)
  line L6 (0, 0) -> (0, 9.6595)
  line L7 (0, 9.6595) -> (0, 0)
  line L8 (0, 0) -> (7.0736, 0)
  circle A1 centre (12.55, -17.675) radius 1.5
  circle A2 centre (12.65, 17.575) radius 1.5 projected
  line L9 (9.8, 19.2204) -> (12.65, 20.8659)
  line L10 (12.65, 20.8659) -> (15.5, 19.2204)
  line L11 (15.5, 19.2204) -> (15.5, 15.9296)
  line L12 (15.5, 15.9296) -> (12.65, 14.2841)
  line L13 (12.65, 14.2841) -> (9.8, 15.9296)
  line L14 (9.8, 15.9296) -> (9.8, 19.2204)
  circle A3 centre (-12.55, -17.675) radius 1.5 projected
  line L15 (-15.4, -16.0296) -> (-12.55, -14.3841)
  line L16 (-12.55, -14.3841) -> (-9.7, -16.0296)
  line L17 (-9.7, -16.0296) -> (-9.7, -19.3204)
  line L18 (-9.7, -19.3204) -> (-12.55, -20.9659)
  line L19 (-12.55, -20.9659) -> (-15.4, -19.3204)
  line L20 (-15.4, -19.3204) -> (-15.4, -16.0296)
  circle A4 centre (-12.65, 17.575) radius 1.5 projected
  line L21 (-15.5, 19.2204) -> (-12.65, 20.8659)
  line L22 (-12.65, 20.8659) -> (-9.8, 19.2204)
  line L23 (-9.8, 19.2204) -> (-9.8, 15.9296)
  line L24 (-9.8, 15.9296) -> (-12.65, 14.2841)
  line L25 (-12.65, 14.2841) -> (-15.5, 15.9296)
  line L26 (-15.5, 15.9296) -> (-15.5, 19.2204)
  line L27 (21.05, -21.075) -> (21.05, -14.075) projected
  line L28 (21.05, -14.075) -> (16.05, -14.075) projected
  line L29 (16.05, -14.075) -> (16.05, -21.075) projected
  line L30 (16.05, -21.075) -> (21.05, -21.075) projected
  circle A5 centre (12.55, -17.675) radius 1.5 projected
  line L31 (16.05, -21.075) -> (9.25, -21.075) projected
  line L32 (16.05, -21.075) -> (16.05, -14.075) projected
  line L33 (16.05, -14.075) -> (9.25, -14.075) projected
  line L34 (9.25, -14.075) -> (9.25, -21.075) projected
  line L35 (21.05, 14.075) -> (21.05, 21.075) projected
  line L36 (21.05, 21.075) -> (16.05, 21.075) projected
  line L37 (16.05, 21.075) -> (16.05, 14.075) projected
  line L38 (16.05, 14.075) -> (21.05, 14.075) projected
  line L39 (9.25, 21.075) -> (9.25, 14.075) projected
  line L40 (16.05, 14.075) -> (9.25, 14.075) projected
  line L41 (16.05, 14.075) -> (16.05, 21.075) projected
  line L42 (16.05, 21.075) -> (9.25, 21.075) projected
  circle A6 centre (12.65, 17.575) radius 1.5 projected
  line L43 (-21.05, 21.075) -> (-21.05, 14.075) projected
  line L44 (-21.05, 14.075) -> (-16.05, 14.075) projected
  line L45 (-16.05, 14.075) -> (-16.05, 21.075) projected
  line L46 (-16.05, 21.075) -> (-21.05, 21.075) projected
  circle A7 centre (-12.65, 17.575) radius 1.5 projected
  line L47 (-16.05, 21.075) -> (-9.25, 21.075) projected
  line L48 (-16.05, 21.075) -> (-16.05, 14.075) projected
  line L49 (-16.05, 14.075) -> (-9.25, 14.075) projected
  line L50 (-9.25, 14.075) -> (-9.25, 21.075) projected
  line L51 (-9.25, -21.075) -> (-9.25, -14.075) projected
  line L52 (-16.05, -14.075) -> (-9.25, -14.075) projected
  line L53 (-16.05, -14.075) -> (-16.05, -21.075) projected
  line L54 (-16.05, -21.075) -> (-9.25, -21.075) projected
  circle A8 centre (-12.55, -17.675) radius 1.5 projected
  line L55 (-21.05, -14.075) -> (-21.05, -21.075) projected
  line L56 (-21.05, -21.075) -> (-16.05, -21.075) projected
  line L57 (-16.05, -21.075) -> (-16.05, -14.075) projected
  line L58 (-16.05, -14.075) -> (-21.05, -14.075) projected
  dimension "d123" = 5.7
  dimension "d124" = 5.7
  dimension "d125" = 5.7
  dimension "d126" = 5.7
extrude "Extrusion9" add sketch "Sketch14" along normal blind 2.5 contours L30 L29 L28 L27 | L31 L34 L33 L29 | L38 L37 L36 L35 | L40 L39 L42 L37 | L46 L45 L44 L43 | L47 L50 L49 L45 | L54 L53 L52 L51 | L56 L55 L58 L53
sketch "Sketch15" plane through (9.25, 22.25, 21.075) normal (0, 0, 1) x (1, 0, 0)
  point P0 (-9.25, -22.25)
properties part number "Spacer for PCB boards_3DPrint"
